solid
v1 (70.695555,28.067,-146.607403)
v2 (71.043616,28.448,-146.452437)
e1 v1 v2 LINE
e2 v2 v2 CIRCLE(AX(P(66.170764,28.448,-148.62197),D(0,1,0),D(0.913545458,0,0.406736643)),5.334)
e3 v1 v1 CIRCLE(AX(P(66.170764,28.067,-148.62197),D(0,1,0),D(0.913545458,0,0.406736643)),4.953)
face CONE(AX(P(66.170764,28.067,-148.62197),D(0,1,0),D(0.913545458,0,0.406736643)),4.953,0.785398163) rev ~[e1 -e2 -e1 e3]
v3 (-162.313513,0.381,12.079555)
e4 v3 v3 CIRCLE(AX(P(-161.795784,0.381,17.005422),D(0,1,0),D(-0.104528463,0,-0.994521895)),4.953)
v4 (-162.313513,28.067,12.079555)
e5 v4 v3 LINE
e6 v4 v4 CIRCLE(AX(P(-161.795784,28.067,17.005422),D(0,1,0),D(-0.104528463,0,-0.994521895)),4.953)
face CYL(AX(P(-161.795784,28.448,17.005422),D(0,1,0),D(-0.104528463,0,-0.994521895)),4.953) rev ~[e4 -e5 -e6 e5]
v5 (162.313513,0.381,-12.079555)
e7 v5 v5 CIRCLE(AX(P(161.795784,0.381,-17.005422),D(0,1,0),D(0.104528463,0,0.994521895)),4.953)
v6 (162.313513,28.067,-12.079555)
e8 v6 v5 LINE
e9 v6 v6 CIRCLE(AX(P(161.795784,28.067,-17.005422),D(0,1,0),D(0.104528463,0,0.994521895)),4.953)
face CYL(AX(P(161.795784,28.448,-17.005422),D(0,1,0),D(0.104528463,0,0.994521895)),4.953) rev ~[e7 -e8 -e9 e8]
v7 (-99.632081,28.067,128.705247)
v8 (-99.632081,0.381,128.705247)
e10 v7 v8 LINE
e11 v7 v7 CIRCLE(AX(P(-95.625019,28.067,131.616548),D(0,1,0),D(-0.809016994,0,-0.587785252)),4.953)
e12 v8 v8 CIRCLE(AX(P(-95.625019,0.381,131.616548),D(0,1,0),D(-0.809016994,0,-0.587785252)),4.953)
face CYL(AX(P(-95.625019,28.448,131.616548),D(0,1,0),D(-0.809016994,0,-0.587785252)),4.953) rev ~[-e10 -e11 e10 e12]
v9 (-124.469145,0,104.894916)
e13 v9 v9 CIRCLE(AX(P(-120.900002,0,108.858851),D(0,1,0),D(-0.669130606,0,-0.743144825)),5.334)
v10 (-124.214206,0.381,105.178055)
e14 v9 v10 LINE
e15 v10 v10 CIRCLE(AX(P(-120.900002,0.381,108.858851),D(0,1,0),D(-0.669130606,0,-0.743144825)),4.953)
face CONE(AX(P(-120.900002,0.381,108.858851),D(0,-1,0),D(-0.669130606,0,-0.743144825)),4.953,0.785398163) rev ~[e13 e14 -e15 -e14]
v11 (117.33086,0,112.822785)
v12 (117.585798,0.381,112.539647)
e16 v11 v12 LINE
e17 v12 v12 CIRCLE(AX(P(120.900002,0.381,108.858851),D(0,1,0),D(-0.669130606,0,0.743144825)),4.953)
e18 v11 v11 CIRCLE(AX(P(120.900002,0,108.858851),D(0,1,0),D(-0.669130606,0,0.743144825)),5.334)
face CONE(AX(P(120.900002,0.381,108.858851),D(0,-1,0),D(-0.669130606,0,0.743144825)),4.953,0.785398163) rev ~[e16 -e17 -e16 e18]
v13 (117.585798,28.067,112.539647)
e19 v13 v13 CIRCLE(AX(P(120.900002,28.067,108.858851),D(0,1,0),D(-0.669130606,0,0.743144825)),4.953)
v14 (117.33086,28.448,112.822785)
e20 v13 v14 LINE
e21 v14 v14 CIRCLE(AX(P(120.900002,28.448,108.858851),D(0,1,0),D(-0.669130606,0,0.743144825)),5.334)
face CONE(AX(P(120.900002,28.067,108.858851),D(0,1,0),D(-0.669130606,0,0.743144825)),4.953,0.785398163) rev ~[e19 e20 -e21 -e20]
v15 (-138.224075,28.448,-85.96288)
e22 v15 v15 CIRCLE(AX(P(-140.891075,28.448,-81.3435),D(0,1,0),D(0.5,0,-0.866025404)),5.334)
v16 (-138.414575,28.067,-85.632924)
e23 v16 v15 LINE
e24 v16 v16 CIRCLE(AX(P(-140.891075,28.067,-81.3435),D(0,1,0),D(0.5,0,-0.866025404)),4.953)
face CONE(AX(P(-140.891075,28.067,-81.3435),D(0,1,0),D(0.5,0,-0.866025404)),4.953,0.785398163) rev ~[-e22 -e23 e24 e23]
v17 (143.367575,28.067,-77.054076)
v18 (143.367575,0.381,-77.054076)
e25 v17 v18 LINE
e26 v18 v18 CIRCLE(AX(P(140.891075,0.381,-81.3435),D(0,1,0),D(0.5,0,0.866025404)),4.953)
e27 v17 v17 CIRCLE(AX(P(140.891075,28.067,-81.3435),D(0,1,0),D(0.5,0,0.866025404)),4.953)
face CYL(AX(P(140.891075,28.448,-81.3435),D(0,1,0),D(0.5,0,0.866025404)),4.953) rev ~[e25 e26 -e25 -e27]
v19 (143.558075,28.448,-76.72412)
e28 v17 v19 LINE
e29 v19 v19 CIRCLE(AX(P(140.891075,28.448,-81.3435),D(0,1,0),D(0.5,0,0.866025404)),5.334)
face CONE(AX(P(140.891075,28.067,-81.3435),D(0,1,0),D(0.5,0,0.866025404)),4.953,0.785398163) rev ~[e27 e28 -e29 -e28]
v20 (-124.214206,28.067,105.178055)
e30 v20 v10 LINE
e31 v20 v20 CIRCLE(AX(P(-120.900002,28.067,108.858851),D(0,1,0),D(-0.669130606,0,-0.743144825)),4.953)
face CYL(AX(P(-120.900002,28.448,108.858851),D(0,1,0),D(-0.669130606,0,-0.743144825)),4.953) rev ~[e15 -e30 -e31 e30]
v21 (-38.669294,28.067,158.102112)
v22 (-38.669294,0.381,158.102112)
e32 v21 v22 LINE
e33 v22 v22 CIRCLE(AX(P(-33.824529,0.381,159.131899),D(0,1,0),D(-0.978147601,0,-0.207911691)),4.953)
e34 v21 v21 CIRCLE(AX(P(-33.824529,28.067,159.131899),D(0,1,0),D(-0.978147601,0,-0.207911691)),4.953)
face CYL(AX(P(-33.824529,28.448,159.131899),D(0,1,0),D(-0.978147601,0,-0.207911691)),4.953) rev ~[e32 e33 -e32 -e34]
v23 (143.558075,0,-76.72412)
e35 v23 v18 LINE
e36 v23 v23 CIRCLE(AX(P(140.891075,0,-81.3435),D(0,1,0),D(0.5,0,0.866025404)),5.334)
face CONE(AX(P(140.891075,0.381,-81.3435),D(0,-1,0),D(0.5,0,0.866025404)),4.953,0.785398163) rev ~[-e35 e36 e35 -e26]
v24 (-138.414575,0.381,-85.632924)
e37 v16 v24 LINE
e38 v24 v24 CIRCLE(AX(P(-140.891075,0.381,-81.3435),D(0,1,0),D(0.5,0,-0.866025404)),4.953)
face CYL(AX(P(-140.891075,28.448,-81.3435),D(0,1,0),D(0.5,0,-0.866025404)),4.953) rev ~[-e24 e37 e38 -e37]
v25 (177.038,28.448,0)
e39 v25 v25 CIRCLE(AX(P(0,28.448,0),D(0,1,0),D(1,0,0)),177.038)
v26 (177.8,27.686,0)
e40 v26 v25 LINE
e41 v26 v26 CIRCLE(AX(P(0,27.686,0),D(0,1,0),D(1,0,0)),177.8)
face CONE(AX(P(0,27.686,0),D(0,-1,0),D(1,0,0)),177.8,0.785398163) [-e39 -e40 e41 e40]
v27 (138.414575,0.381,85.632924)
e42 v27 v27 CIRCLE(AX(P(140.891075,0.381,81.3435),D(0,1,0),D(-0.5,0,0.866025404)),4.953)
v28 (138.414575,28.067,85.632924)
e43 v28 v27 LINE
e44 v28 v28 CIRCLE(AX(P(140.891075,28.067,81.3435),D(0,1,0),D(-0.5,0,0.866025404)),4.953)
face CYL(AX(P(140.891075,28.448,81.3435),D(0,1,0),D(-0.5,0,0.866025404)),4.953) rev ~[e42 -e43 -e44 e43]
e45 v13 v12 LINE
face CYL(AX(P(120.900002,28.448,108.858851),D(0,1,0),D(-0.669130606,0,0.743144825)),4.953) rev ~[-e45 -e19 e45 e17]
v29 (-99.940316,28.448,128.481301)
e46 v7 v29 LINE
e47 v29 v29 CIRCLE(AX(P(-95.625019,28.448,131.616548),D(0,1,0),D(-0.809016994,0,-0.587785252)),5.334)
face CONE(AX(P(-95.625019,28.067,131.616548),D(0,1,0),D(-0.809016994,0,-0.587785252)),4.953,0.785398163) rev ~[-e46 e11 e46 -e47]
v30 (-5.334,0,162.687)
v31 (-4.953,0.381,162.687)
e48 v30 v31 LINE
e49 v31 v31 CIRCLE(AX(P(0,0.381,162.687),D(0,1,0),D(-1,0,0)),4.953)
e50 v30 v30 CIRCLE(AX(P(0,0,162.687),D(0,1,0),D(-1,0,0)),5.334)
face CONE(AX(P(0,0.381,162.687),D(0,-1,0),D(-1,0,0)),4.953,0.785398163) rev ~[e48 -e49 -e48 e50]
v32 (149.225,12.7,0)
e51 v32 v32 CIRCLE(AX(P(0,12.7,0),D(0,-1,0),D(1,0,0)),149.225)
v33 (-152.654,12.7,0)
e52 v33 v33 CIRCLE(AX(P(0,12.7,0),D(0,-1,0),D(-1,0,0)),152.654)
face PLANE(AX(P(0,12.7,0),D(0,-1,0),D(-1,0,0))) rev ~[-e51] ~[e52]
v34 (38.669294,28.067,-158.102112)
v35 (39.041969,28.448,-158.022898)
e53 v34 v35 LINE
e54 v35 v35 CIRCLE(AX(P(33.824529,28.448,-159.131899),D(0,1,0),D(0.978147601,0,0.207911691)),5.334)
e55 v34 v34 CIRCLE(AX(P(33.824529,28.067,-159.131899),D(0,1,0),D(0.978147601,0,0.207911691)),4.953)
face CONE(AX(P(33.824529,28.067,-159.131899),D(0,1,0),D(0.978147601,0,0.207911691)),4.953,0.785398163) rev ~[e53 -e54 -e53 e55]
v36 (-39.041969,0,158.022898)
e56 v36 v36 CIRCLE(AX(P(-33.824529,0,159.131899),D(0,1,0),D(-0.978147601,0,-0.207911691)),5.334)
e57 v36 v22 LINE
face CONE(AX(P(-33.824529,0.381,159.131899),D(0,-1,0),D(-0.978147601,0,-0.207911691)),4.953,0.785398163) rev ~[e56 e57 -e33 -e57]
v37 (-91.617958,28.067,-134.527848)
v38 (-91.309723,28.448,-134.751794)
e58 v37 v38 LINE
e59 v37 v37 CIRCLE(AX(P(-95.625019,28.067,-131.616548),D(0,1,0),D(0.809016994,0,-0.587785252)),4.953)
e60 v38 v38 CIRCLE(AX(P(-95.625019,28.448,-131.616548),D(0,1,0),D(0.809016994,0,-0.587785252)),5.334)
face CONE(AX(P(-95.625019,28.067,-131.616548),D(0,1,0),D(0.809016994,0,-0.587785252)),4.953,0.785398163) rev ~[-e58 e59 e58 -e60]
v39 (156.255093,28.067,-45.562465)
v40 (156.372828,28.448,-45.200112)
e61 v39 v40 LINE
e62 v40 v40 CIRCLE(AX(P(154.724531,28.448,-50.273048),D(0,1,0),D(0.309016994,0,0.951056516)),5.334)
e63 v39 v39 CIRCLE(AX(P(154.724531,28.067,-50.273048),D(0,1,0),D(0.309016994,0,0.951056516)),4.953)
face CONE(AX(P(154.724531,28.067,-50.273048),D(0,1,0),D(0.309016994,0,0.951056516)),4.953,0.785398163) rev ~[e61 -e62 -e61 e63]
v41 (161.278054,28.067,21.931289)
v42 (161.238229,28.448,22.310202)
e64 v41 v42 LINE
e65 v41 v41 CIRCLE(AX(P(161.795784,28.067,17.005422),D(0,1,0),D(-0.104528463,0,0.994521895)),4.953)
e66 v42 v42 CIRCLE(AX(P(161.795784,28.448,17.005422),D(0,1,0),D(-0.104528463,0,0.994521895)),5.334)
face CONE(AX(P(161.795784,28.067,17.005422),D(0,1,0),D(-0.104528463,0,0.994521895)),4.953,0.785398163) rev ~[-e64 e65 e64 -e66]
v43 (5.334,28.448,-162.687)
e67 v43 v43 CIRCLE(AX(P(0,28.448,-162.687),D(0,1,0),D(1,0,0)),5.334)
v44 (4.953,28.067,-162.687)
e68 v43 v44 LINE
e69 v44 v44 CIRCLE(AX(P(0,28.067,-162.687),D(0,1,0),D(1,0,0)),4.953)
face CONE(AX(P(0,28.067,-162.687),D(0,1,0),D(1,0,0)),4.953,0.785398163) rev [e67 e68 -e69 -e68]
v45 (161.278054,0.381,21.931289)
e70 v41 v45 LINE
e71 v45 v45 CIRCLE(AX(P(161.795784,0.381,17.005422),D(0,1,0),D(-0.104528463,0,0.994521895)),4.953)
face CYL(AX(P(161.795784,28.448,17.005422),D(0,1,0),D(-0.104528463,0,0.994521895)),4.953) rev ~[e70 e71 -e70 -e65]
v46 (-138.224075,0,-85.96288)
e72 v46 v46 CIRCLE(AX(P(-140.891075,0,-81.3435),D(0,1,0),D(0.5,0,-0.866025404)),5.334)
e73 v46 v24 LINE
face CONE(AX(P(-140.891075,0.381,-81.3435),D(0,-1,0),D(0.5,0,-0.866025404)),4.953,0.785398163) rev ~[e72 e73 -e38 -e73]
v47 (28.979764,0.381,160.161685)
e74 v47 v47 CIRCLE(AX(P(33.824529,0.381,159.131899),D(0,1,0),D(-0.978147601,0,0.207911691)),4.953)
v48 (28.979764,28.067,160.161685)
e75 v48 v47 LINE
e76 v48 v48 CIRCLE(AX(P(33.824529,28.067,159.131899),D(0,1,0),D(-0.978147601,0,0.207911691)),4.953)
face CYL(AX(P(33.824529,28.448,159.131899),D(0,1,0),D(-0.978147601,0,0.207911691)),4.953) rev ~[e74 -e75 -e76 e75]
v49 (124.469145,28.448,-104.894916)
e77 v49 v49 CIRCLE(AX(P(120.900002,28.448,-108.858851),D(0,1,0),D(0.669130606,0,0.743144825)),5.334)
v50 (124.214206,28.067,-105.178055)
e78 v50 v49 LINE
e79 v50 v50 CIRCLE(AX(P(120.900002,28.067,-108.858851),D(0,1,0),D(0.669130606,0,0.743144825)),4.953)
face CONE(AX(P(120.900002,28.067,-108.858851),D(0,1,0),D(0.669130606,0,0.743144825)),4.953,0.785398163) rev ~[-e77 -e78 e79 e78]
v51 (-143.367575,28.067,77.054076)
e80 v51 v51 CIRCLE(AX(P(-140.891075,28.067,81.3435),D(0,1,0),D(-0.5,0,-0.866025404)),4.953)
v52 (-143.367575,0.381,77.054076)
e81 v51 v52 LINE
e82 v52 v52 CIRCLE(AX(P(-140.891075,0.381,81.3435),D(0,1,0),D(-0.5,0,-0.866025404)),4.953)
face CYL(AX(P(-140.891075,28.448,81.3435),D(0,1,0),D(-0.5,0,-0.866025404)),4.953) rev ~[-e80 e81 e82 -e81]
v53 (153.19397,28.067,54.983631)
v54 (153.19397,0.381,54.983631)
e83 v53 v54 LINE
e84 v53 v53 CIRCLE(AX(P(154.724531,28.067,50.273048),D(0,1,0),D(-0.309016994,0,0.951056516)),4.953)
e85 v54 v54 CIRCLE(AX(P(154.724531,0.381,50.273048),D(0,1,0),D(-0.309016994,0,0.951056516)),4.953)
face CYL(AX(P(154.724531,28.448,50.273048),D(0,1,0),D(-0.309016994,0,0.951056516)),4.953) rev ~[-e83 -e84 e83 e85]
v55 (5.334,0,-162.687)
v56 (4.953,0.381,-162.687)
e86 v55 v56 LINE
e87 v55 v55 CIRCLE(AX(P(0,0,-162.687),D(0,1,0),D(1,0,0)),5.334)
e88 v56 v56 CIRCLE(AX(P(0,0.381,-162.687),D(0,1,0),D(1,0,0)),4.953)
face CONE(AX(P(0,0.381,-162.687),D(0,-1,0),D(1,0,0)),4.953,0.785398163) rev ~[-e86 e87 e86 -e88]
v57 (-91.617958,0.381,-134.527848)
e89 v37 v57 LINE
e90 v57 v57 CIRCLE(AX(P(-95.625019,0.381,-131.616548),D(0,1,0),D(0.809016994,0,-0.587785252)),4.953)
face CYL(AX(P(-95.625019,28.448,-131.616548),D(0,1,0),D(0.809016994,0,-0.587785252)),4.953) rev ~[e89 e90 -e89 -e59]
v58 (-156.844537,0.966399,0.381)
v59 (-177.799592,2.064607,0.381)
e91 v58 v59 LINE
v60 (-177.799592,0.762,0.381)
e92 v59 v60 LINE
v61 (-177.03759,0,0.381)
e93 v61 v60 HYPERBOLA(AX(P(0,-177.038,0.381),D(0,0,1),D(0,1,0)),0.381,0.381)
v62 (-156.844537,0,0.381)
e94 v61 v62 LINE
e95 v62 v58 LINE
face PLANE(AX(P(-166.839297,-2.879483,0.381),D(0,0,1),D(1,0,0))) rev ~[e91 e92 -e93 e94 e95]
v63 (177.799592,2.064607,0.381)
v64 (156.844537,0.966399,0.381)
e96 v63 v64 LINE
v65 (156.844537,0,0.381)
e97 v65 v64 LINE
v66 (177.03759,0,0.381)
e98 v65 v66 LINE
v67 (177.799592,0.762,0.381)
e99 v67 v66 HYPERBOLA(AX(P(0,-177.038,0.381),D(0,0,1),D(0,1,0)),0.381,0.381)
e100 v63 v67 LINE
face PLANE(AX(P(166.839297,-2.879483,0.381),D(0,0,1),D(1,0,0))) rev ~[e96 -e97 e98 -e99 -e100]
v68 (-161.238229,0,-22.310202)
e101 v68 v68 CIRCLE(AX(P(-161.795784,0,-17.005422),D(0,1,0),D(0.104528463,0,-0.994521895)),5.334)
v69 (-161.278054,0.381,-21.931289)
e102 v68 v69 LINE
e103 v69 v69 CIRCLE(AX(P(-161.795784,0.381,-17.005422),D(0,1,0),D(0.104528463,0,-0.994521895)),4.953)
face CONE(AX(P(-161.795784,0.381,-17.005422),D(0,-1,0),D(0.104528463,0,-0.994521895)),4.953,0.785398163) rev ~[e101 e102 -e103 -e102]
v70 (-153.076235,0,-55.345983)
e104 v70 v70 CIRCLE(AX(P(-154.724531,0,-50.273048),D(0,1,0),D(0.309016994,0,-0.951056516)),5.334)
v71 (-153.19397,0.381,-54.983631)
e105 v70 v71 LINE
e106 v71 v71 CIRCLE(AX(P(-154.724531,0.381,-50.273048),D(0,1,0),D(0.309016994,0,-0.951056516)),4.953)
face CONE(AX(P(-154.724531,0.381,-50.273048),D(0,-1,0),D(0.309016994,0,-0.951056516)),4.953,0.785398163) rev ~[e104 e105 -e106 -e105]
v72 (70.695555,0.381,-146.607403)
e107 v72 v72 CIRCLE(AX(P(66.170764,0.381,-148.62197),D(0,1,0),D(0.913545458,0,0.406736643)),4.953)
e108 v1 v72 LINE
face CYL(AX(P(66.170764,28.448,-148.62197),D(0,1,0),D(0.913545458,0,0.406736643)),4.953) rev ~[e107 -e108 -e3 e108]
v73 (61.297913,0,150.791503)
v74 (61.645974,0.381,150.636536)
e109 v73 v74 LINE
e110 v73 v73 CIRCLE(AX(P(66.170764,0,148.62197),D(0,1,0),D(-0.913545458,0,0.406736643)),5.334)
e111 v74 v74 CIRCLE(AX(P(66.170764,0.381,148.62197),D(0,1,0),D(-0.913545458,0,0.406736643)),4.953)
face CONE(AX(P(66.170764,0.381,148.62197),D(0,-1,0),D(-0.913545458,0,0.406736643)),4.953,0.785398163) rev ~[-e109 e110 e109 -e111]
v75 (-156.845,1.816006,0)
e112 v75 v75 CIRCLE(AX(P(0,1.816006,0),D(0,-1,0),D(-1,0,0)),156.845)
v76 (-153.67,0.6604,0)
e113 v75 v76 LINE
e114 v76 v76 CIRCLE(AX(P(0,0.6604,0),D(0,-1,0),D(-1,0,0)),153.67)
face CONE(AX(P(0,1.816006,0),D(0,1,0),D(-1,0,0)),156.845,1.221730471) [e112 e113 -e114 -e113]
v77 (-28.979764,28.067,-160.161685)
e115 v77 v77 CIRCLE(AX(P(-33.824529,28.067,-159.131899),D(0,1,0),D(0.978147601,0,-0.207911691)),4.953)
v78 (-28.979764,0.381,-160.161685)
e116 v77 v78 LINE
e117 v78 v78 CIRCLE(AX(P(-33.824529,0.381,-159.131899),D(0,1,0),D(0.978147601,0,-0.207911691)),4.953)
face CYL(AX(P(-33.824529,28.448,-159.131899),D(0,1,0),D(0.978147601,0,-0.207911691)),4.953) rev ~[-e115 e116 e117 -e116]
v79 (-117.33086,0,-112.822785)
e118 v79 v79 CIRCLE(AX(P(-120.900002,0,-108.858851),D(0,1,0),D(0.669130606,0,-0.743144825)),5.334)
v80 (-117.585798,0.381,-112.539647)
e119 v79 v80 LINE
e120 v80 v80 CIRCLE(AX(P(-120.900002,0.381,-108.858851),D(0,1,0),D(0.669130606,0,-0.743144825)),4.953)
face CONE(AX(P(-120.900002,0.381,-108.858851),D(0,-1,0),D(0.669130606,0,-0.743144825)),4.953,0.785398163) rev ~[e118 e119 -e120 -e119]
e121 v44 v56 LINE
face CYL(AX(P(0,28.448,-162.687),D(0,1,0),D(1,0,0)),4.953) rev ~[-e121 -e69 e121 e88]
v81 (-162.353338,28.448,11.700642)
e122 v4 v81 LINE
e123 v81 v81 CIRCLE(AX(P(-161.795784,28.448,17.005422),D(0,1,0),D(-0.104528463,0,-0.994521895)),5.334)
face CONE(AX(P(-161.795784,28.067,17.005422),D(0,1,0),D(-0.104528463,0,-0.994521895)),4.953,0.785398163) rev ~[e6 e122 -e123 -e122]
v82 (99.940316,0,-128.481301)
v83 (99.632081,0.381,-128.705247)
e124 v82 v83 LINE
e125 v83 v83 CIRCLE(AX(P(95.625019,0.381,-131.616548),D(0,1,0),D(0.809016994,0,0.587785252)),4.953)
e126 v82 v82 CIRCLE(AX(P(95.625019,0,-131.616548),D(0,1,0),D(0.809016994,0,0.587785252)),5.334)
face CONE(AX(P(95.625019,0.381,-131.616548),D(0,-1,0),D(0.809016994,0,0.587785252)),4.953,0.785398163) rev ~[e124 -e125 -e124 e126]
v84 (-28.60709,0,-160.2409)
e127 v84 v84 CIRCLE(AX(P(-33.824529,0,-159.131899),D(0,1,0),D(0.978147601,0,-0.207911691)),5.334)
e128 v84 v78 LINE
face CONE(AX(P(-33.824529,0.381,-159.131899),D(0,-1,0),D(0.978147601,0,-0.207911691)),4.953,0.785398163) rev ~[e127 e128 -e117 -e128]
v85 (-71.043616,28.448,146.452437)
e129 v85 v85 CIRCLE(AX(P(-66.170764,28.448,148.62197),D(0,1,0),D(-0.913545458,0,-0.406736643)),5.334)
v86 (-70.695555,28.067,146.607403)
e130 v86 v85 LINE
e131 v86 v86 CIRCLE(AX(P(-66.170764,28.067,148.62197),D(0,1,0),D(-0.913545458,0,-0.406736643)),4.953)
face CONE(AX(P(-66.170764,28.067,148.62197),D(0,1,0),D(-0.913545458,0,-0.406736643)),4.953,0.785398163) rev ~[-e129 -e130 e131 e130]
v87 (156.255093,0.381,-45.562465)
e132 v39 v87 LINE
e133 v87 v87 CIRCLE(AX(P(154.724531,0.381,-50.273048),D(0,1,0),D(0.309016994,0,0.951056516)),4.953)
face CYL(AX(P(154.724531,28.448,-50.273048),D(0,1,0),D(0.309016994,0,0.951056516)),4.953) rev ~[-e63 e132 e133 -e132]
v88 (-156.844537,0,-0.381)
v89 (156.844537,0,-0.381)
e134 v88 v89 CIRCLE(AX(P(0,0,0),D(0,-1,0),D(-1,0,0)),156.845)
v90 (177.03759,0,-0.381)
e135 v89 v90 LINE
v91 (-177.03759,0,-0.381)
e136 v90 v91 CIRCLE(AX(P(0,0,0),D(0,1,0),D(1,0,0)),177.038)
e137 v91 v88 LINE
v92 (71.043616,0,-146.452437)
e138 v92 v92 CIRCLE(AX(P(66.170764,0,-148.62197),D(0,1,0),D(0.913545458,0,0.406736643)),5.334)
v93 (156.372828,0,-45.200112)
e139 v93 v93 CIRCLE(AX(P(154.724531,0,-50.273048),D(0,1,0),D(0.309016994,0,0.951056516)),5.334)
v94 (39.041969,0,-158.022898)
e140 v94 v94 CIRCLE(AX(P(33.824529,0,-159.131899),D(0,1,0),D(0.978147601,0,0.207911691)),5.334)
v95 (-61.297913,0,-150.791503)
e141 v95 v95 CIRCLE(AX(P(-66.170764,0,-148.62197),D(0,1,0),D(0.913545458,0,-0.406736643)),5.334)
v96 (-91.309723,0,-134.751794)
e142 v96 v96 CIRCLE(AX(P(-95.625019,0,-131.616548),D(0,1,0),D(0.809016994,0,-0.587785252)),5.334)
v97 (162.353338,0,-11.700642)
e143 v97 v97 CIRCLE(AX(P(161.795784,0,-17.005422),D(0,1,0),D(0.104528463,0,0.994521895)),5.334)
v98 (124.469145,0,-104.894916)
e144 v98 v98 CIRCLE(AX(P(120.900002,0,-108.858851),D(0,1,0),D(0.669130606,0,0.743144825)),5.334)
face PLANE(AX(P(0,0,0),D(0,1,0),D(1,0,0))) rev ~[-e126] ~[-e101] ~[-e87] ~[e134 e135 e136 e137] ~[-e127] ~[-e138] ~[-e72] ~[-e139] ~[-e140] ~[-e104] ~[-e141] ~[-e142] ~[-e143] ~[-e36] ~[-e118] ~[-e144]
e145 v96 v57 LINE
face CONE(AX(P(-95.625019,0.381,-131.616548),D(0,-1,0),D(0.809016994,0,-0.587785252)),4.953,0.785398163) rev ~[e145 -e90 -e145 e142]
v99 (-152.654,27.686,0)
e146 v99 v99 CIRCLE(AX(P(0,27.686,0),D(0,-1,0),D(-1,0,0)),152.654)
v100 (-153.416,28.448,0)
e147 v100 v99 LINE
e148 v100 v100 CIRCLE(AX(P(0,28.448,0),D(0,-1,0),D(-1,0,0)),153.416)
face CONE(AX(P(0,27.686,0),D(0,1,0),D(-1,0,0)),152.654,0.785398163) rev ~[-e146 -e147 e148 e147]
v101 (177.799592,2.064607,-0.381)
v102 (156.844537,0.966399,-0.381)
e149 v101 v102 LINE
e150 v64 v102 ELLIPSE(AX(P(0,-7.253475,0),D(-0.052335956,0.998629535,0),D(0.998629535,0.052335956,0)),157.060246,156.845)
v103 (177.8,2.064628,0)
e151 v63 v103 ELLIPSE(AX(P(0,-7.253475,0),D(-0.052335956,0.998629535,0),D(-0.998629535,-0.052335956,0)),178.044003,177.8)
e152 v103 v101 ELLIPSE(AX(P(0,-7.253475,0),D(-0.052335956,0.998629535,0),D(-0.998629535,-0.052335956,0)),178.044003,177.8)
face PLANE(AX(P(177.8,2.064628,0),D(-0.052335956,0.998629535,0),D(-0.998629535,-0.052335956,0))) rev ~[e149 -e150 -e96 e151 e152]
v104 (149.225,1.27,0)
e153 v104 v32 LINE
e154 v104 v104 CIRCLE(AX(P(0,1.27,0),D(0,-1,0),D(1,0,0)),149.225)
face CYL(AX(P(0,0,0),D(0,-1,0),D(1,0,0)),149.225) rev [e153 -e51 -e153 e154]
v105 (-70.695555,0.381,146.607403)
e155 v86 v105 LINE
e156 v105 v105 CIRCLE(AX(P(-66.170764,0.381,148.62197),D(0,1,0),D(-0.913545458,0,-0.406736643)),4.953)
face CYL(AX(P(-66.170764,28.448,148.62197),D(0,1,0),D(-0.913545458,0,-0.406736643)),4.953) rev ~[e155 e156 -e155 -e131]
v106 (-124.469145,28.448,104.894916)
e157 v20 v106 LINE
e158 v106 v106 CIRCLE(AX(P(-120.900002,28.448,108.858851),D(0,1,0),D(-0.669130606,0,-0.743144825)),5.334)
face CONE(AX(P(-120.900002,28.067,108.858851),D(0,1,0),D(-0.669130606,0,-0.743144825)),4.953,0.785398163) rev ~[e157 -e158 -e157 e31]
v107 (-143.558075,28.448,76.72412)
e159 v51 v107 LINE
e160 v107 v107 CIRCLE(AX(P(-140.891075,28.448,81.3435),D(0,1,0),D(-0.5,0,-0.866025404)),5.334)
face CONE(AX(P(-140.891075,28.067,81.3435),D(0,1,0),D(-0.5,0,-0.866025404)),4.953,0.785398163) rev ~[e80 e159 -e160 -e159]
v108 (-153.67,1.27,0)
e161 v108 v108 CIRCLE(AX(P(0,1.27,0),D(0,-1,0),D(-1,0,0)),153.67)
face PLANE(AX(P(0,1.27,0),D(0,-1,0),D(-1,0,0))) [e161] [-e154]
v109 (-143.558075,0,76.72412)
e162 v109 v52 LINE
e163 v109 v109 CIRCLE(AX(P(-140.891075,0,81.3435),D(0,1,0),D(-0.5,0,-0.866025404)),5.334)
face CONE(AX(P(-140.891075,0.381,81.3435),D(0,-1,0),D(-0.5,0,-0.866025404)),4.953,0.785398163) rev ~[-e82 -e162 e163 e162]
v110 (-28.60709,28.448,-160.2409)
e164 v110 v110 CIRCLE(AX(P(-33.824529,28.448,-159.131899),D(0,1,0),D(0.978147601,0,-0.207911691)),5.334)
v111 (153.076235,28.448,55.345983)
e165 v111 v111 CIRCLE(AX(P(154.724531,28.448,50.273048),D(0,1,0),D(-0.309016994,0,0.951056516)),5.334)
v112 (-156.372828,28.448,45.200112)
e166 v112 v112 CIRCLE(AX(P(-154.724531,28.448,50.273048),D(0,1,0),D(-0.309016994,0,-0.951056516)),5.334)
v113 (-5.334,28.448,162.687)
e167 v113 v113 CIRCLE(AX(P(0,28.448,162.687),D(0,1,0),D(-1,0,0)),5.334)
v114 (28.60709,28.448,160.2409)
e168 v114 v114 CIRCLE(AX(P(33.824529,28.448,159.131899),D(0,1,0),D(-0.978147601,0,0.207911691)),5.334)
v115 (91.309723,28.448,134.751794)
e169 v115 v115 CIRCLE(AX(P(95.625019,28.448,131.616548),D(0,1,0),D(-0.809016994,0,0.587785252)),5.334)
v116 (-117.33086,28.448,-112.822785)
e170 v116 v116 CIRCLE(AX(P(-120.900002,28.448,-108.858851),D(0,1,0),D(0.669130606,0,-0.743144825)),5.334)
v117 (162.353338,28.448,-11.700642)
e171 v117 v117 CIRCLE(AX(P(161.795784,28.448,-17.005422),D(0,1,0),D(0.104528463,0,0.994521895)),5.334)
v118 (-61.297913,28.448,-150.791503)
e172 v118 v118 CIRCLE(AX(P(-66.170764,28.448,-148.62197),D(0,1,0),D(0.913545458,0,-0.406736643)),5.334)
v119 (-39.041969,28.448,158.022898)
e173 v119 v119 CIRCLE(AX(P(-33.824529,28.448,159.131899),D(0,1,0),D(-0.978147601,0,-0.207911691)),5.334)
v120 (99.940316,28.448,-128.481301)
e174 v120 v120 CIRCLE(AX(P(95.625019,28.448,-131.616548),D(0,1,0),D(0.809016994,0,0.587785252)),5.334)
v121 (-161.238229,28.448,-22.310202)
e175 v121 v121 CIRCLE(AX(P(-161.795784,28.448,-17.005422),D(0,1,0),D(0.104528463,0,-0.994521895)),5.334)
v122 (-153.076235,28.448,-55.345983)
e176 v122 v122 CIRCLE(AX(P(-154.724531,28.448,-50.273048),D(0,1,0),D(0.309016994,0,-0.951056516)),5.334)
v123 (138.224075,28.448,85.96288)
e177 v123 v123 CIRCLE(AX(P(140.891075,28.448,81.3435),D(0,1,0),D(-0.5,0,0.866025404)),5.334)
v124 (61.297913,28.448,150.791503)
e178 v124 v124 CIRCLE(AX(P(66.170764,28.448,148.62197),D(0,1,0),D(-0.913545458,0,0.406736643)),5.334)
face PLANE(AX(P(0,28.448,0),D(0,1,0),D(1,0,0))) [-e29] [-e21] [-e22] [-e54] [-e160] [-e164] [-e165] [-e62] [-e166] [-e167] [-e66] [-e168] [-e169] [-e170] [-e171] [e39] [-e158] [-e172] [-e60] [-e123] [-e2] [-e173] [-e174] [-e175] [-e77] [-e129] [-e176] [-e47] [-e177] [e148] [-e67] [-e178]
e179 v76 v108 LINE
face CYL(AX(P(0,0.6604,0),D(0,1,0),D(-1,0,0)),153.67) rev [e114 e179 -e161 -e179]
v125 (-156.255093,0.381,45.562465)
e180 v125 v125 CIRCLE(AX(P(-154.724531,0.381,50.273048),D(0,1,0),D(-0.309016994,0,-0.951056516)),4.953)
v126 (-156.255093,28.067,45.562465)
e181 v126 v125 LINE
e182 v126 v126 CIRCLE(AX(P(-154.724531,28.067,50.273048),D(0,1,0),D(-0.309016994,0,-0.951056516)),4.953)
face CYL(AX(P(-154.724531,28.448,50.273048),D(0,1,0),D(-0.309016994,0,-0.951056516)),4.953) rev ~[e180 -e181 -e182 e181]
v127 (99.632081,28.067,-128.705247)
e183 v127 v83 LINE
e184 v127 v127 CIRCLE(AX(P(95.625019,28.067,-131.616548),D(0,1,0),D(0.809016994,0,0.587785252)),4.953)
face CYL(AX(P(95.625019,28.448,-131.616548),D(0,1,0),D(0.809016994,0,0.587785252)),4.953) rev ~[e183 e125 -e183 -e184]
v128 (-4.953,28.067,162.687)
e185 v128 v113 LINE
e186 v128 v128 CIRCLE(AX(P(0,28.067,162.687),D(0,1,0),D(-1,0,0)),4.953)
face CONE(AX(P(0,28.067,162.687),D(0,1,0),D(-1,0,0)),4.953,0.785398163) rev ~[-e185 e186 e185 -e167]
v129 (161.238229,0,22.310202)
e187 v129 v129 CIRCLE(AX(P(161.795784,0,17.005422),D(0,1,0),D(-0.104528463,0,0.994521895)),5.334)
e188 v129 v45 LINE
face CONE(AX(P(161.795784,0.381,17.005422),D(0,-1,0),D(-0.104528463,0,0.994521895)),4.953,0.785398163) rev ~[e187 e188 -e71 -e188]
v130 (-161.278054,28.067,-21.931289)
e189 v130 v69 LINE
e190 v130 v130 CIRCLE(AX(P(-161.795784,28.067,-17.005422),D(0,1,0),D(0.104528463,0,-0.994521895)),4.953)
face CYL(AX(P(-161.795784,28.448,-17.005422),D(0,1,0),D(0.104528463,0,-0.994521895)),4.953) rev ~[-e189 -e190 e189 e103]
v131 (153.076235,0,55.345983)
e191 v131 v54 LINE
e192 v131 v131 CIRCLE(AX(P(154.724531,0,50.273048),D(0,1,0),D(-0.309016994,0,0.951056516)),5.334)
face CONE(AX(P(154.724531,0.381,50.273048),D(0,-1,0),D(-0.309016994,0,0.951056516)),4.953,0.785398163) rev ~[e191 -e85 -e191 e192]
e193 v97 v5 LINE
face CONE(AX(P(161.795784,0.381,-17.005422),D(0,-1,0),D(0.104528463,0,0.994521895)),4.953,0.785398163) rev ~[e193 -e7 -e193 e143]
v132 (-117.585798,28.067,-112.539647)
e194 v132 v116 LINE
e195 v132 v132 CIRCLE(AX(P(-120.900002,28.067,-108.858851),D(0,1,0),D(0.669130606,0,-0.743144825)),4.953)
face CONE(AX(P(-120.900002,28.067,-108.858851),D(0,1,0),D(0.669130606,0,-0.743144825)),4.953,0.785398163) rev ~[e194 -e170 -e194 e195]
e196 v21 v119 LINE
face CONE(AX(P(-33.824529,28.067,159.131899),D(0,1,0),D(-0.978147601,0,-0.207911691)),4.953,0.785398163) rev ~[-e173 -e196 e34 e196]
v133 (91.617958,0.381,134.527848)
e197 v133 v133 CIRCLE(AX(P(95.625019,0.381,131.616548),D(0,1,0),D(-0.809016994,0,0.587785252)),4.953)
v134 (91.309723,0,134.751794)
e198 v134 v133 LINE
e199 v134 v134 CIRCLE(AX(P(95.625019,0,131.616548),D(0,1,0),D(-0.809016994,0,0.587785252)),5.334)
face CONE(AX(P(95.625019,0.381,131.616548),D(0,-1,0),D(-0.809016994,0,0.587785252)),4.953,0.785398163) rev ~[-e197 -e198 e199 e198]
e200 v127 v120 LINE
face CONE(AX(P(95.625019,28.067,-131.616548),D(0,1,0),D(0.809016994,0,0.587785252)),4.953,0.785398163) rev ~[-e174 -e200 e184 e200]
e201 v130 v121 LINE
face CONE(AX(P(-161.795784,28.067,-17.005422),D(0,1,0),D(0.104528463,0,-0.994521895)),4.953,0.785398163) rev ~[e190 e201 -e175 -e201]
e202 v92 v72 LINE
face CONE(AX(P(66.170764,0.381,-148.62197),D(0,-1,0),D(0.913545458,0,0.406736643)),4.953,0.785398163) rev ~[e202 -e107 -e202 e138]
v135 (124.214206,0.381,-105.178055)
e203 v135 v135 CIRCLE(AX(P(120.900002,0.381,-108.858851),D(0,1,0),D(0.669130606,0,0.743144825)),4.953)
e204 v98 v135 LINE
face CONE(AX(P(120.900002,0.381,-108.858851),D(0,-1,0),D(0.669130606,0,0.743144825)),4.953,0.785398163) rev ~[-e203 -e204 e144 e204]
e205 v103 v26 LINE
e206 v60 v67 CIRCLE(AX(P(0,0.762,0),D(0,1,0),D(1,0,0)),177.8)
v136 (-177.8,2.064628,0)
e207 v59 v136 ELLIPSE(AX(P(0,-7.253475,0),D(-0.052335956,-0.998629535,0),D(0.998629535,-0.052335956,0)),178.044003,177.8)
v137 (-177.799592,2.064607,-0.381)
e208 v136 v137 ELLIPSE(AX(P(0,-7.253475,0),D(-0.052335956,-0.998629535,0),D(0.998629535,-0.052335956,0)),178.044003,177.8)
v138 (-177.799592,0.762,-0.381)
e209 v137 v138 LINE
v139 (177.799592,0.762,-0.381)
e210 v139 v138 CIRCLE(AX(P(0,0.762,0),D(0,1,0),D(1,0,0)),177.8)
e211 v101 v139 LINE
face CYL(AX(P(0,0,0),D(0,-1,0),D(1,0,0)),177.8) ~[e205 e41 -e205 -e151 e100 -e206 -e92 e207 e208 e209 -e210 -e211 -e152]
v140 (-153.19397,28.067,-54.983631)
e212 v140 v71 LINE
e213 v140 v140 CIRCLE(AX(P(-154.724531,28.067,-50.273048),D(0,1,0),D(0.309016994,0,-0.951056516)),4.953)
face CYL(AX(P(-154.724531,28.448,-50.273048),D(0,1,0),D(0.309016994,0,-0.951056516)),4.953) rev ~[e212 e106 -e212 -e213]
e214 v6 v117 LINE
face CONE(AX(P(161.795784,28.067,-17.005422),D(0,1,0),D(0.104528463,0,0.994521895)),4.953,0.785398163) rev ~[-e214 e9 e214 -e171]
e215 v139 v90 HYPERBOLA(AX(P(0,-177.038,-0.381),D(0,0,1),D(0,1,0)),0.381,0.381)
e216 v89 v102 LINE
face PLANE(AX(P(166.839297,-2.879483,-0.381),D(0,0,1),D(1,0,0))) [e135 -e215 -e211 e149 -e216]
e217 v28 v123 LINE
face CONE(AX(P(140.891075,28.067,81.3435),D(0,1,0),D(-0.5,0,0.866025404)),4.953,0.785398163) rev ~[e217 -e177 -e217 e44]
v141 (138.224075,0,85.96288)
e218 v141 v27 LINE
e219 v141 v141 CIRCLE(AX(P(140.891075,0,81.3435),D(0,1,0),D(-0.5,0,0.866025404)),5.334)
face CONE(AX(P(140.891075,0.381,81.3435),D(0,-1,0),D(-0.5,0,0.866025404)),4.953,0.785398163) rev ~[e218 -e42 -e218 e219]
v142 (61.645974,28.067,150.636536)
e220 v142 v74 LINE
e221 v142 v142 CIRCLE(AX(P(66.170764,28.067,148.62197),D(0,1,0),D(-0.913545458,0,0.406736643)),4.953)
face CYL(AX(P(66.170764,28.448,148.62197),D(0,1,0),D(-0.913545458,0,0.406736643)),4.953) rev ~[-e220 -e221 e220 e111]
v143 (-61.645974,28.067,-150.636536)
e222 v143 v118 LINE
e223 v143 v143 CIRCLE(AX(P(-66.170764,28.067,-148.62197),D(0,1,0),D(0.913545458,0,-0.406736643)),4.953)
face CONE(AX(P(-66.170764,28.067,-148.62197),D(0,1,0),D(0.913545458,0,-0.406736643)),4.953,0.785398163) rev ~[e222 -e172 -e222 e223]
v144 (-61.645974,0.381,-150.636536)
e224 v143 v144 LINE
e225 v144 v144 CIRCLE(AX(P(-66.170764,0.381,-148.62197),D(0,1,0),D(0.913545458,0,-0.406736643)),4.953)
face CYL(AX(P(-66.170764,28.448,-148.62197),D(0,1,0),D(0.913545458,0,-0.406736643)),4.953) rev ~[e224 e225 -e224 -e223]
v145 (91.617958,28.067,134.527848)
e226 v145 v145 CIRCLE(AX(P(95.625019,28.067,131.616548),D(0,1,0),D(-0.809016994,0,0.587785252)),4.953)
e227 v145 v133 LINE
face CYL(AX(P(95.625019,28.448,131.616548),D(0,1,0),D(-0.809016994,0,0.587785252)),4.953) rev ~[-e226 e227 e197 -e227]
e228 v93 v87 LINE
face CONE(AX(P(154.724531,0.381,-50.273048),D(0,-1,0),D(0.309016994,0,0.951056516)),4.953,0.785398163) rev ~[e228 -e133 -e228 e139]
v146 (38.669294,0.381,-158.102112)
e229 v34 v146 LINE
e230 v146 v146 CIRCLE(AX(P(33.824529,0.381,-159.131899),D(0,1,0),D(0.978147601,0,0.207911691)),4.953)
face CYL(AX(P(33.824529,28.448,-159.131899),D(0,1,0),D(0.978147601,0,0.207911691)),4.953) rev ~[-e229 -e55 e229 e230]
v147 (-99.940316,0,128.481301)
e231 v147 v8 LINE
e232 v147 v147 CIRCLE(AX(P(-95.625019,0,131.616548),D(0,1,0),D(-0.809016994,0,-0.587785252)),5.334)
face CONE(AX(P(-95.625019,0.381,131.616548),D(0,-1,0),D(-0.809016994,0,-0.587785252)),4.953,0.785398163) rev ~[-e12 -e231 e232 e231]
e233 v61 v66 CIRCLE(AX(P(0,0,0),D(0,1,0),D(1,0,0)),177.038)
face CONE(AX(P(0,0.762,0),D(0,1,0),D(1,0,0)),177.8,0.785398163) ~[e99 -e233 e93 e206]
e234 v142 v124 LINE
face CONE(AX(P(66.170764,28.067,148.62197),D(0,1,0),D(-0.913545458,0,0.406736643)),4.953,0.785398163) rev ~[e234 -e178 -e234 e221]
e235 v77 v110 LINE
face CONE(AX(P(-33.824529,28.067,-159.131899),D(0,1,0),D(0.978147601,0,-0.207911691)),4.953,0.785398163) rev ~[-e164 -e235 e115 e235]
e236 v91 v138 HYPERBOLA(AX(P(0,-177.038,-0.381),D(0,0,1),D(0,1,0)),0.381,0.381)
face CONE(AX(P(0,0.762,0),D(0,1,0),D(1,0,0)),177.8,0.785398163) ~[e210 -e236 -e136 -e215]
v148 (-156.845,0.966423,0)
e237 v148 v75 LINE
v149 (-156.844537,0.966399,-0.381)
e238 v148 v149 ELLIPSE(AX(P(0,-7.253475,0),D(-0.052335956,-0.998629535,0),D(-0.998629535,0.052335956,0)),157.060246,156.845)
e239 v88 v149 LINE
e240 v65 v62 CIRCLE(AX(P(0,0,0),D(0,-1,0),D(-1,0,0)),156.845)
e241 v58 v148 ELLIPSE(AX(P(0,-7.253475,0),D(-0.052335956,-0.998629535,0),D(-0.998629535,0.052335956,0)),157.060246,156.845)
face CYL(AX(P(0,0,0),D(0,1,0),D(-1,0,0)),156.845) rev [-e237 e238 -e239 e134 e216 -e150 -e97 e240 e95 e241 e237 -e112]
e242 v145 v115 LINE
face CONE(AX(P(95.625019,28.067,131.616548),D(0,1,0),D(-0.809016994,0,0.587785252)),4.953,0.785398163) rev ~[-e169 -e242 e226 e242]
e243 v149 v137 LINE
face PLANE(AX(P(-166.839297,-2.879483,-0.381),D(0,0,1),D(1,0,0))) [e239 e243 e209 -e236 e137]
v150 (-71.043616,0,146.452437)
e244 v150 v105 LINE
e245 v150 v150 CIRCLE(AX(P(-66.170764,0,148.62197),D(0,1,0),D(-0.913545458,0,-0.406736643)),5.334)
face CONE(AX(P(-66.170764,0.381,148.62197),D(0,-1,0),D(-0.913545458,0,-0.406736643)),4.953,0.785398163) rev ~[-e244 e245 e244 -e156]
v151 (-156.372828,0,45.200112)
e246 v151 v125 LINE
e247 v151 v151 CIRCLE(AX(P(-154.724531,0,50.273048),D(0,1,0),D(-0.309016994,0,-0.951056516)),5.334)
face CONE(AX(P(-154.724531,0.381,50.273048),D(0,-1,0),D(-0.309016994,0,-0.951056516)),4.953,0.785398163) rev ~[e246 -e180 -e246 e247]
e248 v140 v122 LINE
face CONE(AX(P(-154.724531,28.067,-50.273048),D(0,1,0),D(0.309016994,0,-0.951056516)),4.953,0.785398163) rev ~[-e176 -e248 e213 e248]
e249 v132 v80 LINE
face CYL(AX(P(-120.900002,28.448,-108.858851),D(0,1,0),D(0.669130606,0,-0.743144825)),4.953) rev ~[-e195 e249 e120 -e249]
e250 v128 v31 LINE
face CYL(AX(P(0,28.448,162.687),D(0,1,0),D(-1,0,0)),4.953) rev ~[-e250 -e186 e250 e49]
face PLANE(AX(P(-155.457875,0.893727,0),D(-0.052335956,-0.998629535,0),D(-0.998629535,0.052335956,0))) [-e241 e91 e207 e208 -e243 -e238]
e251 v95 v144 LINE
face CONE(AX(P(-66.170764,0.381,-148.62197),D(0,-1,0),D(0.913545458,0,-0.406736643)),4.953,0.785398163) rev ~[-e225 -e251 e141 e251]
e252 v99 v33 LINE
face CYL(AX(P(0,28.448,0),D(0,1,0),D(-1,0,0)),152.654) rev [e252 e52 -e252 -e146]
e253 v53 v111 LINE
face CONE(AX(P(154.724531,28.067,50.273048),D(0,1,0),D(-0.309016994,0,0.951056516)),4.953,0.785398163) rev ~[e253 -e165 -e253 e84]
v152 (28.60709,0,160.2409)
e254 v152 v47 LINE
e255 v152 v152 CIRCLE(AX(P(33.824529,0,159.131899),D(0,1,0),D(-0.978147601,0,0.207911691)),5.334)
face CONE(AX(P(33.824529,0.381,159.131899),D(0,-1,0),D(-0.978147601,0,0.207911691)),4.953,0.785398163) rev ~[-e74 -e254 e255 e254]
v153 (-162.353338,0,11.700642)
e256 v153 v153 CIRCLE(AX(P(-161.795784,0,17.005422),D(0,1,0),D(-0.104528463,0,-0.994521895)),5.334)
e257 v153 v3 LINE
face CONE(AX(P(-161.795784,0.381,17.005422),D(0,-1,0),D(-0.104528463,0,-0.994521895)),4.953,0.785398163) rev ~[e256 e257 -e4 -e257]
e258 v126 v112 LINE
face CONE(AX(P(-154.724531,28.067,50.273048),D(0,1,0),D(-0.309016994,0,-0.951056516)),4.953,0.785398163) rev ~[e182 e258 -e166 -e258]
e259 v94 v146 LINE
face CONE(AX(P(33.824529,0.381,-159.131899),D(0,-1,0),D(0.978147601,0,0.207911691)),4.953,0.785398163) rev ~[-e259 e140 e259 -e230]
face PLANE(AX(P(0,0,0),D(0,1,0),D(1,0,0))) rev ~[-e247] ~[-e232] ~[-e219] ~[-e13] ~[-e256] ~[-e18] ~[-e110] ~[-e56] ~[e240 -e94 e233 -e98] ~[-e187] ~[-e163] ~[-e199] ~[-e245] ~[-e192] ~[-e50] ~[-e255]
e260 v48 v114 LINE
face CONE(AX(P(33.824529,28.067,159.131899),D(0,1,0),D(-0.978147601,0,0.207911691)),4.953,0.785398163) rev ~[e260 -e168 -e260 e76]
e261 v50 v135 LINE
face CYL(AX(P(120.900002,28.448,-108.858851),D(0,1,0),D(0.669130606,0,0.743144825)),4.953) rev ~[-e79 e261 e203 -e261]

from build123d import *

# Parameters (mm, degrees)
SKETCH1_R                    = 177.8
SKETCH1_R_2                  = 149.225
BOSS_EXTRUDE1_DEPTH          = 28.448
SKETCH2_R                    = 152.654
CUT_EXTRUDE1_DEPTH           = 15.748
CHAMFER1_SIZE                = 0.762
SKETCH3_R                    = 4.953
CUT_EXTRUDE2_DEPTH           = 29.448
CHAMFER2_SIZE                = 0.381
CIRPATTERN1_COUNT            = 30
CHAMFER2_OF_CIRPATTERN1_SIZE = 0.381
CUT_EXTRUDE3_DEPTH           = 0.381


with BuildPart() as part:
    # Sketch1 → Boss-Extrude1 (new body)
    with BuildSketch(Plane(origin=(0, 0, 0), x_dir=(1, 0, 0), z_dir=(0, 1, 0))):
        Circle(SKETCH1_R)
        Circle(SKETCH1_R_2, mode=Mode.SUBTRACT)
    extrude(amount=BOSS_EXTRUDE1_DEPTH)

    # Sketch2 → Cut-Extrude1 (cut)
    with BuildSketch(Plane(origin=(0, 28.448, 0), x_dir=(-1, 0, 0), z_dir=(0, -1, 0))):
        Circle(SKETCH2_R)
    extrude(amount=CUT_EXTRUDE1_DEPTH, mode=Mode.SUBTRACT)

    # Chamfer1
    chamfer1_edges = [part.edges().sort_by_distance(p)[0] for p in [
        (152.654, 28.448, 0),
        (-177.8, 0, 0),
        (-177.8, 28.448, 0),
    ]]
    chamfer(chamfer1_edges, length=CHAMFER1_SIZE)

    # Sketch4 → Cut-Revolve1 (revolve, cut)
    with BuildSketch(Plane.XY):
        Polygon((-156.845, 0), (-156.845, 1.816005512), (-153.67, 0.6604), (-153.67, 1.27), (0, 1.27), (0, 0), align=None)
    revolve(axis=Axis((0, 28.448, 0), (0, -1, 0)), mode=Mode.SUBTRACT)

    # Sketch3 → Cut-Extrude2 (cut, through all)
    with BuildSketch(Plane(origin=(0, 28.448, 0), x_dir=(1, 0, 0), z_dir=(0, 1, 0))):
        with Locations((0, 162.687)):
            Circle(SKETCH3_R)
    cut_extrude2 = extrude(amount=-CUT_EXTRUDE2_DEPTH, mode=Mode.SUBTRACT)

    # Chamfer2
    chamfer2_edges = [part.edges().sort_by_distance(p)[0] for p in [
        (-4.953, 0, -162.687),
        (-4.953, 28.448, -162.687),
    ]]
    chamfer(chamfer2_edges, length=CHAMFER2_SIZE)

    # CirPattern1: Cut-Extrude2 ×30 about axis
    cirpattern1_axis = Axis((0, 0, 0), (0, 1, 0))
    for i in range(1, CIRPATTERN1_COUNT):
        add(cut_extrude2.rotate(cirpattern1_axis, i * 360 / CIRPATTERN1_COUNT), mode=Mode.SUBTRACT)

    # Chamfer2 of CirPattern1
    chamfer2_of_cirpattern1_edges = [part.edges().sort_by_distance(p)[0] for p in [
        (-38.669294311, 0, -158.102112116),
        (-38.669294311, 28.448, -158.102112116),
        (-70.695554904, 0, -146.607403274),
        (-70.695554904, 28.448, -146.607403274),
        (-99.632080513, 0, -128.705247409),
        (-99.632080513, 28.448, -128.705247409),
        (-124.214206116, 0, -105.178054636),
        (-124.214206116, 28.448, -105.178054636),
        (-143.367574865, 0, -77.054076175),
        (-143.367574865, 28.448, -77.054076175),
        (-156.25509264, 0, -45.562464839),
        (-156.25509264, 28.448, -45.562464839),
        (-162.31351307, 0, -12.079555156),
        (-162.31351307, 28.448, -12.079555156),
        (-161.278054113, 0, 21.931289051),
        (-161.278054113, 28.448, 21.931289051),
        (-153.193970293, 0, 54.983630689),
        (-153.193970293, 28.448, 54.983630689),
        (-138.414574865, 0, 85.632923825),
        (-138.414574865, 28.448, 85.632923825),
        (-117.585798329, 0, 112.539647277),
        (-117.585798329, 28.448, 112.539647277),
        (-91.617958167, 0, 134.527848118),
        (-91.617958167, 28.448, 134.527848118),
        (-61.6459736, 0, 150.636536461),
        (-61.6459736, 28.448, 150.636536461),
        (-28.979764178, 0, 160.161685325),
        (-28.979764178, 28.448, 160.161685325),
        (4.953, 0, 162.687),
        (4.953, 28.448, 162.687),
        (38.669294311, 0, 158.102112116),
        (38.669294311, 28.448, 158.102112116),
        (70.695554904, 0, 146.607403274),
        (70.695554904, 28.448, 146.607403274),
        (99.632080513, 0, 128.705247409),
        (99.632080513, 28.448, 128.705247409),
        (124.214206116, 0, 105.178054636),
        (124.214206116, 28.448, 105.178054636),
        (143.367574865, 0, 77.054076175),
        (143.367574865, 28.448, 77.054076175),
        (156.25509264, 0, 45.562464839),
        (156.25509264, 28.448, 45.562464839),
        (162.31351307, 0, 12.079555156),
        (162.31351307, 28.448, 12.079555156),
        (161.278054113, 0, -21.931289051),
        (161.278054113, 28.448, -21.931289051),
        (153.193970293, 0, -54.983630689),
        (153.193970293, 28.448, -54.983630689),
        (138.414574865, 0, -85.632923825),
        (138.414574865, 28.448, -85.632923825),
        (117.585798329, 0, -112.539647277),
        (117.585798329, 28.448, -112.539647277),
        (91.617958167, 0, -134.527848118),
        (91.617958167, 28.448, -134.527848118),
        (61.6459736, 0, -150.636536461),
        (61.6459736, 28.448, -150.636536461),
        (28.979764178, 0, -160.161685325),
        (28.979764178, 28.448, -160.161685325),
    ]]
    chamfer(chamfer2_of_cirpattern1_edges, length=CHAMFER2_OF_CIRPATTERN1_SIZE)

    # Sketch5 → Cut-Extrude3 (cut, symmetric)
    with BuildSketch(Plane.XY):
        Polygon((-155.45787474, 0.893727035), (-177.8, 2.064628205), (-177.8, -7.253474952), (-155.45787474, -7.253474952), align=None)
        Polygon((155.45787474, 0.893727035), (155.45787474, -7.253474952), (177.8, -7.253474952), (177.8, 2.064628205), align=None)
    extrude(amount=CUT_EXTRUDE3_DEPTH, both=True, mode=Mode.SUBTRACT)


solid = part.part
